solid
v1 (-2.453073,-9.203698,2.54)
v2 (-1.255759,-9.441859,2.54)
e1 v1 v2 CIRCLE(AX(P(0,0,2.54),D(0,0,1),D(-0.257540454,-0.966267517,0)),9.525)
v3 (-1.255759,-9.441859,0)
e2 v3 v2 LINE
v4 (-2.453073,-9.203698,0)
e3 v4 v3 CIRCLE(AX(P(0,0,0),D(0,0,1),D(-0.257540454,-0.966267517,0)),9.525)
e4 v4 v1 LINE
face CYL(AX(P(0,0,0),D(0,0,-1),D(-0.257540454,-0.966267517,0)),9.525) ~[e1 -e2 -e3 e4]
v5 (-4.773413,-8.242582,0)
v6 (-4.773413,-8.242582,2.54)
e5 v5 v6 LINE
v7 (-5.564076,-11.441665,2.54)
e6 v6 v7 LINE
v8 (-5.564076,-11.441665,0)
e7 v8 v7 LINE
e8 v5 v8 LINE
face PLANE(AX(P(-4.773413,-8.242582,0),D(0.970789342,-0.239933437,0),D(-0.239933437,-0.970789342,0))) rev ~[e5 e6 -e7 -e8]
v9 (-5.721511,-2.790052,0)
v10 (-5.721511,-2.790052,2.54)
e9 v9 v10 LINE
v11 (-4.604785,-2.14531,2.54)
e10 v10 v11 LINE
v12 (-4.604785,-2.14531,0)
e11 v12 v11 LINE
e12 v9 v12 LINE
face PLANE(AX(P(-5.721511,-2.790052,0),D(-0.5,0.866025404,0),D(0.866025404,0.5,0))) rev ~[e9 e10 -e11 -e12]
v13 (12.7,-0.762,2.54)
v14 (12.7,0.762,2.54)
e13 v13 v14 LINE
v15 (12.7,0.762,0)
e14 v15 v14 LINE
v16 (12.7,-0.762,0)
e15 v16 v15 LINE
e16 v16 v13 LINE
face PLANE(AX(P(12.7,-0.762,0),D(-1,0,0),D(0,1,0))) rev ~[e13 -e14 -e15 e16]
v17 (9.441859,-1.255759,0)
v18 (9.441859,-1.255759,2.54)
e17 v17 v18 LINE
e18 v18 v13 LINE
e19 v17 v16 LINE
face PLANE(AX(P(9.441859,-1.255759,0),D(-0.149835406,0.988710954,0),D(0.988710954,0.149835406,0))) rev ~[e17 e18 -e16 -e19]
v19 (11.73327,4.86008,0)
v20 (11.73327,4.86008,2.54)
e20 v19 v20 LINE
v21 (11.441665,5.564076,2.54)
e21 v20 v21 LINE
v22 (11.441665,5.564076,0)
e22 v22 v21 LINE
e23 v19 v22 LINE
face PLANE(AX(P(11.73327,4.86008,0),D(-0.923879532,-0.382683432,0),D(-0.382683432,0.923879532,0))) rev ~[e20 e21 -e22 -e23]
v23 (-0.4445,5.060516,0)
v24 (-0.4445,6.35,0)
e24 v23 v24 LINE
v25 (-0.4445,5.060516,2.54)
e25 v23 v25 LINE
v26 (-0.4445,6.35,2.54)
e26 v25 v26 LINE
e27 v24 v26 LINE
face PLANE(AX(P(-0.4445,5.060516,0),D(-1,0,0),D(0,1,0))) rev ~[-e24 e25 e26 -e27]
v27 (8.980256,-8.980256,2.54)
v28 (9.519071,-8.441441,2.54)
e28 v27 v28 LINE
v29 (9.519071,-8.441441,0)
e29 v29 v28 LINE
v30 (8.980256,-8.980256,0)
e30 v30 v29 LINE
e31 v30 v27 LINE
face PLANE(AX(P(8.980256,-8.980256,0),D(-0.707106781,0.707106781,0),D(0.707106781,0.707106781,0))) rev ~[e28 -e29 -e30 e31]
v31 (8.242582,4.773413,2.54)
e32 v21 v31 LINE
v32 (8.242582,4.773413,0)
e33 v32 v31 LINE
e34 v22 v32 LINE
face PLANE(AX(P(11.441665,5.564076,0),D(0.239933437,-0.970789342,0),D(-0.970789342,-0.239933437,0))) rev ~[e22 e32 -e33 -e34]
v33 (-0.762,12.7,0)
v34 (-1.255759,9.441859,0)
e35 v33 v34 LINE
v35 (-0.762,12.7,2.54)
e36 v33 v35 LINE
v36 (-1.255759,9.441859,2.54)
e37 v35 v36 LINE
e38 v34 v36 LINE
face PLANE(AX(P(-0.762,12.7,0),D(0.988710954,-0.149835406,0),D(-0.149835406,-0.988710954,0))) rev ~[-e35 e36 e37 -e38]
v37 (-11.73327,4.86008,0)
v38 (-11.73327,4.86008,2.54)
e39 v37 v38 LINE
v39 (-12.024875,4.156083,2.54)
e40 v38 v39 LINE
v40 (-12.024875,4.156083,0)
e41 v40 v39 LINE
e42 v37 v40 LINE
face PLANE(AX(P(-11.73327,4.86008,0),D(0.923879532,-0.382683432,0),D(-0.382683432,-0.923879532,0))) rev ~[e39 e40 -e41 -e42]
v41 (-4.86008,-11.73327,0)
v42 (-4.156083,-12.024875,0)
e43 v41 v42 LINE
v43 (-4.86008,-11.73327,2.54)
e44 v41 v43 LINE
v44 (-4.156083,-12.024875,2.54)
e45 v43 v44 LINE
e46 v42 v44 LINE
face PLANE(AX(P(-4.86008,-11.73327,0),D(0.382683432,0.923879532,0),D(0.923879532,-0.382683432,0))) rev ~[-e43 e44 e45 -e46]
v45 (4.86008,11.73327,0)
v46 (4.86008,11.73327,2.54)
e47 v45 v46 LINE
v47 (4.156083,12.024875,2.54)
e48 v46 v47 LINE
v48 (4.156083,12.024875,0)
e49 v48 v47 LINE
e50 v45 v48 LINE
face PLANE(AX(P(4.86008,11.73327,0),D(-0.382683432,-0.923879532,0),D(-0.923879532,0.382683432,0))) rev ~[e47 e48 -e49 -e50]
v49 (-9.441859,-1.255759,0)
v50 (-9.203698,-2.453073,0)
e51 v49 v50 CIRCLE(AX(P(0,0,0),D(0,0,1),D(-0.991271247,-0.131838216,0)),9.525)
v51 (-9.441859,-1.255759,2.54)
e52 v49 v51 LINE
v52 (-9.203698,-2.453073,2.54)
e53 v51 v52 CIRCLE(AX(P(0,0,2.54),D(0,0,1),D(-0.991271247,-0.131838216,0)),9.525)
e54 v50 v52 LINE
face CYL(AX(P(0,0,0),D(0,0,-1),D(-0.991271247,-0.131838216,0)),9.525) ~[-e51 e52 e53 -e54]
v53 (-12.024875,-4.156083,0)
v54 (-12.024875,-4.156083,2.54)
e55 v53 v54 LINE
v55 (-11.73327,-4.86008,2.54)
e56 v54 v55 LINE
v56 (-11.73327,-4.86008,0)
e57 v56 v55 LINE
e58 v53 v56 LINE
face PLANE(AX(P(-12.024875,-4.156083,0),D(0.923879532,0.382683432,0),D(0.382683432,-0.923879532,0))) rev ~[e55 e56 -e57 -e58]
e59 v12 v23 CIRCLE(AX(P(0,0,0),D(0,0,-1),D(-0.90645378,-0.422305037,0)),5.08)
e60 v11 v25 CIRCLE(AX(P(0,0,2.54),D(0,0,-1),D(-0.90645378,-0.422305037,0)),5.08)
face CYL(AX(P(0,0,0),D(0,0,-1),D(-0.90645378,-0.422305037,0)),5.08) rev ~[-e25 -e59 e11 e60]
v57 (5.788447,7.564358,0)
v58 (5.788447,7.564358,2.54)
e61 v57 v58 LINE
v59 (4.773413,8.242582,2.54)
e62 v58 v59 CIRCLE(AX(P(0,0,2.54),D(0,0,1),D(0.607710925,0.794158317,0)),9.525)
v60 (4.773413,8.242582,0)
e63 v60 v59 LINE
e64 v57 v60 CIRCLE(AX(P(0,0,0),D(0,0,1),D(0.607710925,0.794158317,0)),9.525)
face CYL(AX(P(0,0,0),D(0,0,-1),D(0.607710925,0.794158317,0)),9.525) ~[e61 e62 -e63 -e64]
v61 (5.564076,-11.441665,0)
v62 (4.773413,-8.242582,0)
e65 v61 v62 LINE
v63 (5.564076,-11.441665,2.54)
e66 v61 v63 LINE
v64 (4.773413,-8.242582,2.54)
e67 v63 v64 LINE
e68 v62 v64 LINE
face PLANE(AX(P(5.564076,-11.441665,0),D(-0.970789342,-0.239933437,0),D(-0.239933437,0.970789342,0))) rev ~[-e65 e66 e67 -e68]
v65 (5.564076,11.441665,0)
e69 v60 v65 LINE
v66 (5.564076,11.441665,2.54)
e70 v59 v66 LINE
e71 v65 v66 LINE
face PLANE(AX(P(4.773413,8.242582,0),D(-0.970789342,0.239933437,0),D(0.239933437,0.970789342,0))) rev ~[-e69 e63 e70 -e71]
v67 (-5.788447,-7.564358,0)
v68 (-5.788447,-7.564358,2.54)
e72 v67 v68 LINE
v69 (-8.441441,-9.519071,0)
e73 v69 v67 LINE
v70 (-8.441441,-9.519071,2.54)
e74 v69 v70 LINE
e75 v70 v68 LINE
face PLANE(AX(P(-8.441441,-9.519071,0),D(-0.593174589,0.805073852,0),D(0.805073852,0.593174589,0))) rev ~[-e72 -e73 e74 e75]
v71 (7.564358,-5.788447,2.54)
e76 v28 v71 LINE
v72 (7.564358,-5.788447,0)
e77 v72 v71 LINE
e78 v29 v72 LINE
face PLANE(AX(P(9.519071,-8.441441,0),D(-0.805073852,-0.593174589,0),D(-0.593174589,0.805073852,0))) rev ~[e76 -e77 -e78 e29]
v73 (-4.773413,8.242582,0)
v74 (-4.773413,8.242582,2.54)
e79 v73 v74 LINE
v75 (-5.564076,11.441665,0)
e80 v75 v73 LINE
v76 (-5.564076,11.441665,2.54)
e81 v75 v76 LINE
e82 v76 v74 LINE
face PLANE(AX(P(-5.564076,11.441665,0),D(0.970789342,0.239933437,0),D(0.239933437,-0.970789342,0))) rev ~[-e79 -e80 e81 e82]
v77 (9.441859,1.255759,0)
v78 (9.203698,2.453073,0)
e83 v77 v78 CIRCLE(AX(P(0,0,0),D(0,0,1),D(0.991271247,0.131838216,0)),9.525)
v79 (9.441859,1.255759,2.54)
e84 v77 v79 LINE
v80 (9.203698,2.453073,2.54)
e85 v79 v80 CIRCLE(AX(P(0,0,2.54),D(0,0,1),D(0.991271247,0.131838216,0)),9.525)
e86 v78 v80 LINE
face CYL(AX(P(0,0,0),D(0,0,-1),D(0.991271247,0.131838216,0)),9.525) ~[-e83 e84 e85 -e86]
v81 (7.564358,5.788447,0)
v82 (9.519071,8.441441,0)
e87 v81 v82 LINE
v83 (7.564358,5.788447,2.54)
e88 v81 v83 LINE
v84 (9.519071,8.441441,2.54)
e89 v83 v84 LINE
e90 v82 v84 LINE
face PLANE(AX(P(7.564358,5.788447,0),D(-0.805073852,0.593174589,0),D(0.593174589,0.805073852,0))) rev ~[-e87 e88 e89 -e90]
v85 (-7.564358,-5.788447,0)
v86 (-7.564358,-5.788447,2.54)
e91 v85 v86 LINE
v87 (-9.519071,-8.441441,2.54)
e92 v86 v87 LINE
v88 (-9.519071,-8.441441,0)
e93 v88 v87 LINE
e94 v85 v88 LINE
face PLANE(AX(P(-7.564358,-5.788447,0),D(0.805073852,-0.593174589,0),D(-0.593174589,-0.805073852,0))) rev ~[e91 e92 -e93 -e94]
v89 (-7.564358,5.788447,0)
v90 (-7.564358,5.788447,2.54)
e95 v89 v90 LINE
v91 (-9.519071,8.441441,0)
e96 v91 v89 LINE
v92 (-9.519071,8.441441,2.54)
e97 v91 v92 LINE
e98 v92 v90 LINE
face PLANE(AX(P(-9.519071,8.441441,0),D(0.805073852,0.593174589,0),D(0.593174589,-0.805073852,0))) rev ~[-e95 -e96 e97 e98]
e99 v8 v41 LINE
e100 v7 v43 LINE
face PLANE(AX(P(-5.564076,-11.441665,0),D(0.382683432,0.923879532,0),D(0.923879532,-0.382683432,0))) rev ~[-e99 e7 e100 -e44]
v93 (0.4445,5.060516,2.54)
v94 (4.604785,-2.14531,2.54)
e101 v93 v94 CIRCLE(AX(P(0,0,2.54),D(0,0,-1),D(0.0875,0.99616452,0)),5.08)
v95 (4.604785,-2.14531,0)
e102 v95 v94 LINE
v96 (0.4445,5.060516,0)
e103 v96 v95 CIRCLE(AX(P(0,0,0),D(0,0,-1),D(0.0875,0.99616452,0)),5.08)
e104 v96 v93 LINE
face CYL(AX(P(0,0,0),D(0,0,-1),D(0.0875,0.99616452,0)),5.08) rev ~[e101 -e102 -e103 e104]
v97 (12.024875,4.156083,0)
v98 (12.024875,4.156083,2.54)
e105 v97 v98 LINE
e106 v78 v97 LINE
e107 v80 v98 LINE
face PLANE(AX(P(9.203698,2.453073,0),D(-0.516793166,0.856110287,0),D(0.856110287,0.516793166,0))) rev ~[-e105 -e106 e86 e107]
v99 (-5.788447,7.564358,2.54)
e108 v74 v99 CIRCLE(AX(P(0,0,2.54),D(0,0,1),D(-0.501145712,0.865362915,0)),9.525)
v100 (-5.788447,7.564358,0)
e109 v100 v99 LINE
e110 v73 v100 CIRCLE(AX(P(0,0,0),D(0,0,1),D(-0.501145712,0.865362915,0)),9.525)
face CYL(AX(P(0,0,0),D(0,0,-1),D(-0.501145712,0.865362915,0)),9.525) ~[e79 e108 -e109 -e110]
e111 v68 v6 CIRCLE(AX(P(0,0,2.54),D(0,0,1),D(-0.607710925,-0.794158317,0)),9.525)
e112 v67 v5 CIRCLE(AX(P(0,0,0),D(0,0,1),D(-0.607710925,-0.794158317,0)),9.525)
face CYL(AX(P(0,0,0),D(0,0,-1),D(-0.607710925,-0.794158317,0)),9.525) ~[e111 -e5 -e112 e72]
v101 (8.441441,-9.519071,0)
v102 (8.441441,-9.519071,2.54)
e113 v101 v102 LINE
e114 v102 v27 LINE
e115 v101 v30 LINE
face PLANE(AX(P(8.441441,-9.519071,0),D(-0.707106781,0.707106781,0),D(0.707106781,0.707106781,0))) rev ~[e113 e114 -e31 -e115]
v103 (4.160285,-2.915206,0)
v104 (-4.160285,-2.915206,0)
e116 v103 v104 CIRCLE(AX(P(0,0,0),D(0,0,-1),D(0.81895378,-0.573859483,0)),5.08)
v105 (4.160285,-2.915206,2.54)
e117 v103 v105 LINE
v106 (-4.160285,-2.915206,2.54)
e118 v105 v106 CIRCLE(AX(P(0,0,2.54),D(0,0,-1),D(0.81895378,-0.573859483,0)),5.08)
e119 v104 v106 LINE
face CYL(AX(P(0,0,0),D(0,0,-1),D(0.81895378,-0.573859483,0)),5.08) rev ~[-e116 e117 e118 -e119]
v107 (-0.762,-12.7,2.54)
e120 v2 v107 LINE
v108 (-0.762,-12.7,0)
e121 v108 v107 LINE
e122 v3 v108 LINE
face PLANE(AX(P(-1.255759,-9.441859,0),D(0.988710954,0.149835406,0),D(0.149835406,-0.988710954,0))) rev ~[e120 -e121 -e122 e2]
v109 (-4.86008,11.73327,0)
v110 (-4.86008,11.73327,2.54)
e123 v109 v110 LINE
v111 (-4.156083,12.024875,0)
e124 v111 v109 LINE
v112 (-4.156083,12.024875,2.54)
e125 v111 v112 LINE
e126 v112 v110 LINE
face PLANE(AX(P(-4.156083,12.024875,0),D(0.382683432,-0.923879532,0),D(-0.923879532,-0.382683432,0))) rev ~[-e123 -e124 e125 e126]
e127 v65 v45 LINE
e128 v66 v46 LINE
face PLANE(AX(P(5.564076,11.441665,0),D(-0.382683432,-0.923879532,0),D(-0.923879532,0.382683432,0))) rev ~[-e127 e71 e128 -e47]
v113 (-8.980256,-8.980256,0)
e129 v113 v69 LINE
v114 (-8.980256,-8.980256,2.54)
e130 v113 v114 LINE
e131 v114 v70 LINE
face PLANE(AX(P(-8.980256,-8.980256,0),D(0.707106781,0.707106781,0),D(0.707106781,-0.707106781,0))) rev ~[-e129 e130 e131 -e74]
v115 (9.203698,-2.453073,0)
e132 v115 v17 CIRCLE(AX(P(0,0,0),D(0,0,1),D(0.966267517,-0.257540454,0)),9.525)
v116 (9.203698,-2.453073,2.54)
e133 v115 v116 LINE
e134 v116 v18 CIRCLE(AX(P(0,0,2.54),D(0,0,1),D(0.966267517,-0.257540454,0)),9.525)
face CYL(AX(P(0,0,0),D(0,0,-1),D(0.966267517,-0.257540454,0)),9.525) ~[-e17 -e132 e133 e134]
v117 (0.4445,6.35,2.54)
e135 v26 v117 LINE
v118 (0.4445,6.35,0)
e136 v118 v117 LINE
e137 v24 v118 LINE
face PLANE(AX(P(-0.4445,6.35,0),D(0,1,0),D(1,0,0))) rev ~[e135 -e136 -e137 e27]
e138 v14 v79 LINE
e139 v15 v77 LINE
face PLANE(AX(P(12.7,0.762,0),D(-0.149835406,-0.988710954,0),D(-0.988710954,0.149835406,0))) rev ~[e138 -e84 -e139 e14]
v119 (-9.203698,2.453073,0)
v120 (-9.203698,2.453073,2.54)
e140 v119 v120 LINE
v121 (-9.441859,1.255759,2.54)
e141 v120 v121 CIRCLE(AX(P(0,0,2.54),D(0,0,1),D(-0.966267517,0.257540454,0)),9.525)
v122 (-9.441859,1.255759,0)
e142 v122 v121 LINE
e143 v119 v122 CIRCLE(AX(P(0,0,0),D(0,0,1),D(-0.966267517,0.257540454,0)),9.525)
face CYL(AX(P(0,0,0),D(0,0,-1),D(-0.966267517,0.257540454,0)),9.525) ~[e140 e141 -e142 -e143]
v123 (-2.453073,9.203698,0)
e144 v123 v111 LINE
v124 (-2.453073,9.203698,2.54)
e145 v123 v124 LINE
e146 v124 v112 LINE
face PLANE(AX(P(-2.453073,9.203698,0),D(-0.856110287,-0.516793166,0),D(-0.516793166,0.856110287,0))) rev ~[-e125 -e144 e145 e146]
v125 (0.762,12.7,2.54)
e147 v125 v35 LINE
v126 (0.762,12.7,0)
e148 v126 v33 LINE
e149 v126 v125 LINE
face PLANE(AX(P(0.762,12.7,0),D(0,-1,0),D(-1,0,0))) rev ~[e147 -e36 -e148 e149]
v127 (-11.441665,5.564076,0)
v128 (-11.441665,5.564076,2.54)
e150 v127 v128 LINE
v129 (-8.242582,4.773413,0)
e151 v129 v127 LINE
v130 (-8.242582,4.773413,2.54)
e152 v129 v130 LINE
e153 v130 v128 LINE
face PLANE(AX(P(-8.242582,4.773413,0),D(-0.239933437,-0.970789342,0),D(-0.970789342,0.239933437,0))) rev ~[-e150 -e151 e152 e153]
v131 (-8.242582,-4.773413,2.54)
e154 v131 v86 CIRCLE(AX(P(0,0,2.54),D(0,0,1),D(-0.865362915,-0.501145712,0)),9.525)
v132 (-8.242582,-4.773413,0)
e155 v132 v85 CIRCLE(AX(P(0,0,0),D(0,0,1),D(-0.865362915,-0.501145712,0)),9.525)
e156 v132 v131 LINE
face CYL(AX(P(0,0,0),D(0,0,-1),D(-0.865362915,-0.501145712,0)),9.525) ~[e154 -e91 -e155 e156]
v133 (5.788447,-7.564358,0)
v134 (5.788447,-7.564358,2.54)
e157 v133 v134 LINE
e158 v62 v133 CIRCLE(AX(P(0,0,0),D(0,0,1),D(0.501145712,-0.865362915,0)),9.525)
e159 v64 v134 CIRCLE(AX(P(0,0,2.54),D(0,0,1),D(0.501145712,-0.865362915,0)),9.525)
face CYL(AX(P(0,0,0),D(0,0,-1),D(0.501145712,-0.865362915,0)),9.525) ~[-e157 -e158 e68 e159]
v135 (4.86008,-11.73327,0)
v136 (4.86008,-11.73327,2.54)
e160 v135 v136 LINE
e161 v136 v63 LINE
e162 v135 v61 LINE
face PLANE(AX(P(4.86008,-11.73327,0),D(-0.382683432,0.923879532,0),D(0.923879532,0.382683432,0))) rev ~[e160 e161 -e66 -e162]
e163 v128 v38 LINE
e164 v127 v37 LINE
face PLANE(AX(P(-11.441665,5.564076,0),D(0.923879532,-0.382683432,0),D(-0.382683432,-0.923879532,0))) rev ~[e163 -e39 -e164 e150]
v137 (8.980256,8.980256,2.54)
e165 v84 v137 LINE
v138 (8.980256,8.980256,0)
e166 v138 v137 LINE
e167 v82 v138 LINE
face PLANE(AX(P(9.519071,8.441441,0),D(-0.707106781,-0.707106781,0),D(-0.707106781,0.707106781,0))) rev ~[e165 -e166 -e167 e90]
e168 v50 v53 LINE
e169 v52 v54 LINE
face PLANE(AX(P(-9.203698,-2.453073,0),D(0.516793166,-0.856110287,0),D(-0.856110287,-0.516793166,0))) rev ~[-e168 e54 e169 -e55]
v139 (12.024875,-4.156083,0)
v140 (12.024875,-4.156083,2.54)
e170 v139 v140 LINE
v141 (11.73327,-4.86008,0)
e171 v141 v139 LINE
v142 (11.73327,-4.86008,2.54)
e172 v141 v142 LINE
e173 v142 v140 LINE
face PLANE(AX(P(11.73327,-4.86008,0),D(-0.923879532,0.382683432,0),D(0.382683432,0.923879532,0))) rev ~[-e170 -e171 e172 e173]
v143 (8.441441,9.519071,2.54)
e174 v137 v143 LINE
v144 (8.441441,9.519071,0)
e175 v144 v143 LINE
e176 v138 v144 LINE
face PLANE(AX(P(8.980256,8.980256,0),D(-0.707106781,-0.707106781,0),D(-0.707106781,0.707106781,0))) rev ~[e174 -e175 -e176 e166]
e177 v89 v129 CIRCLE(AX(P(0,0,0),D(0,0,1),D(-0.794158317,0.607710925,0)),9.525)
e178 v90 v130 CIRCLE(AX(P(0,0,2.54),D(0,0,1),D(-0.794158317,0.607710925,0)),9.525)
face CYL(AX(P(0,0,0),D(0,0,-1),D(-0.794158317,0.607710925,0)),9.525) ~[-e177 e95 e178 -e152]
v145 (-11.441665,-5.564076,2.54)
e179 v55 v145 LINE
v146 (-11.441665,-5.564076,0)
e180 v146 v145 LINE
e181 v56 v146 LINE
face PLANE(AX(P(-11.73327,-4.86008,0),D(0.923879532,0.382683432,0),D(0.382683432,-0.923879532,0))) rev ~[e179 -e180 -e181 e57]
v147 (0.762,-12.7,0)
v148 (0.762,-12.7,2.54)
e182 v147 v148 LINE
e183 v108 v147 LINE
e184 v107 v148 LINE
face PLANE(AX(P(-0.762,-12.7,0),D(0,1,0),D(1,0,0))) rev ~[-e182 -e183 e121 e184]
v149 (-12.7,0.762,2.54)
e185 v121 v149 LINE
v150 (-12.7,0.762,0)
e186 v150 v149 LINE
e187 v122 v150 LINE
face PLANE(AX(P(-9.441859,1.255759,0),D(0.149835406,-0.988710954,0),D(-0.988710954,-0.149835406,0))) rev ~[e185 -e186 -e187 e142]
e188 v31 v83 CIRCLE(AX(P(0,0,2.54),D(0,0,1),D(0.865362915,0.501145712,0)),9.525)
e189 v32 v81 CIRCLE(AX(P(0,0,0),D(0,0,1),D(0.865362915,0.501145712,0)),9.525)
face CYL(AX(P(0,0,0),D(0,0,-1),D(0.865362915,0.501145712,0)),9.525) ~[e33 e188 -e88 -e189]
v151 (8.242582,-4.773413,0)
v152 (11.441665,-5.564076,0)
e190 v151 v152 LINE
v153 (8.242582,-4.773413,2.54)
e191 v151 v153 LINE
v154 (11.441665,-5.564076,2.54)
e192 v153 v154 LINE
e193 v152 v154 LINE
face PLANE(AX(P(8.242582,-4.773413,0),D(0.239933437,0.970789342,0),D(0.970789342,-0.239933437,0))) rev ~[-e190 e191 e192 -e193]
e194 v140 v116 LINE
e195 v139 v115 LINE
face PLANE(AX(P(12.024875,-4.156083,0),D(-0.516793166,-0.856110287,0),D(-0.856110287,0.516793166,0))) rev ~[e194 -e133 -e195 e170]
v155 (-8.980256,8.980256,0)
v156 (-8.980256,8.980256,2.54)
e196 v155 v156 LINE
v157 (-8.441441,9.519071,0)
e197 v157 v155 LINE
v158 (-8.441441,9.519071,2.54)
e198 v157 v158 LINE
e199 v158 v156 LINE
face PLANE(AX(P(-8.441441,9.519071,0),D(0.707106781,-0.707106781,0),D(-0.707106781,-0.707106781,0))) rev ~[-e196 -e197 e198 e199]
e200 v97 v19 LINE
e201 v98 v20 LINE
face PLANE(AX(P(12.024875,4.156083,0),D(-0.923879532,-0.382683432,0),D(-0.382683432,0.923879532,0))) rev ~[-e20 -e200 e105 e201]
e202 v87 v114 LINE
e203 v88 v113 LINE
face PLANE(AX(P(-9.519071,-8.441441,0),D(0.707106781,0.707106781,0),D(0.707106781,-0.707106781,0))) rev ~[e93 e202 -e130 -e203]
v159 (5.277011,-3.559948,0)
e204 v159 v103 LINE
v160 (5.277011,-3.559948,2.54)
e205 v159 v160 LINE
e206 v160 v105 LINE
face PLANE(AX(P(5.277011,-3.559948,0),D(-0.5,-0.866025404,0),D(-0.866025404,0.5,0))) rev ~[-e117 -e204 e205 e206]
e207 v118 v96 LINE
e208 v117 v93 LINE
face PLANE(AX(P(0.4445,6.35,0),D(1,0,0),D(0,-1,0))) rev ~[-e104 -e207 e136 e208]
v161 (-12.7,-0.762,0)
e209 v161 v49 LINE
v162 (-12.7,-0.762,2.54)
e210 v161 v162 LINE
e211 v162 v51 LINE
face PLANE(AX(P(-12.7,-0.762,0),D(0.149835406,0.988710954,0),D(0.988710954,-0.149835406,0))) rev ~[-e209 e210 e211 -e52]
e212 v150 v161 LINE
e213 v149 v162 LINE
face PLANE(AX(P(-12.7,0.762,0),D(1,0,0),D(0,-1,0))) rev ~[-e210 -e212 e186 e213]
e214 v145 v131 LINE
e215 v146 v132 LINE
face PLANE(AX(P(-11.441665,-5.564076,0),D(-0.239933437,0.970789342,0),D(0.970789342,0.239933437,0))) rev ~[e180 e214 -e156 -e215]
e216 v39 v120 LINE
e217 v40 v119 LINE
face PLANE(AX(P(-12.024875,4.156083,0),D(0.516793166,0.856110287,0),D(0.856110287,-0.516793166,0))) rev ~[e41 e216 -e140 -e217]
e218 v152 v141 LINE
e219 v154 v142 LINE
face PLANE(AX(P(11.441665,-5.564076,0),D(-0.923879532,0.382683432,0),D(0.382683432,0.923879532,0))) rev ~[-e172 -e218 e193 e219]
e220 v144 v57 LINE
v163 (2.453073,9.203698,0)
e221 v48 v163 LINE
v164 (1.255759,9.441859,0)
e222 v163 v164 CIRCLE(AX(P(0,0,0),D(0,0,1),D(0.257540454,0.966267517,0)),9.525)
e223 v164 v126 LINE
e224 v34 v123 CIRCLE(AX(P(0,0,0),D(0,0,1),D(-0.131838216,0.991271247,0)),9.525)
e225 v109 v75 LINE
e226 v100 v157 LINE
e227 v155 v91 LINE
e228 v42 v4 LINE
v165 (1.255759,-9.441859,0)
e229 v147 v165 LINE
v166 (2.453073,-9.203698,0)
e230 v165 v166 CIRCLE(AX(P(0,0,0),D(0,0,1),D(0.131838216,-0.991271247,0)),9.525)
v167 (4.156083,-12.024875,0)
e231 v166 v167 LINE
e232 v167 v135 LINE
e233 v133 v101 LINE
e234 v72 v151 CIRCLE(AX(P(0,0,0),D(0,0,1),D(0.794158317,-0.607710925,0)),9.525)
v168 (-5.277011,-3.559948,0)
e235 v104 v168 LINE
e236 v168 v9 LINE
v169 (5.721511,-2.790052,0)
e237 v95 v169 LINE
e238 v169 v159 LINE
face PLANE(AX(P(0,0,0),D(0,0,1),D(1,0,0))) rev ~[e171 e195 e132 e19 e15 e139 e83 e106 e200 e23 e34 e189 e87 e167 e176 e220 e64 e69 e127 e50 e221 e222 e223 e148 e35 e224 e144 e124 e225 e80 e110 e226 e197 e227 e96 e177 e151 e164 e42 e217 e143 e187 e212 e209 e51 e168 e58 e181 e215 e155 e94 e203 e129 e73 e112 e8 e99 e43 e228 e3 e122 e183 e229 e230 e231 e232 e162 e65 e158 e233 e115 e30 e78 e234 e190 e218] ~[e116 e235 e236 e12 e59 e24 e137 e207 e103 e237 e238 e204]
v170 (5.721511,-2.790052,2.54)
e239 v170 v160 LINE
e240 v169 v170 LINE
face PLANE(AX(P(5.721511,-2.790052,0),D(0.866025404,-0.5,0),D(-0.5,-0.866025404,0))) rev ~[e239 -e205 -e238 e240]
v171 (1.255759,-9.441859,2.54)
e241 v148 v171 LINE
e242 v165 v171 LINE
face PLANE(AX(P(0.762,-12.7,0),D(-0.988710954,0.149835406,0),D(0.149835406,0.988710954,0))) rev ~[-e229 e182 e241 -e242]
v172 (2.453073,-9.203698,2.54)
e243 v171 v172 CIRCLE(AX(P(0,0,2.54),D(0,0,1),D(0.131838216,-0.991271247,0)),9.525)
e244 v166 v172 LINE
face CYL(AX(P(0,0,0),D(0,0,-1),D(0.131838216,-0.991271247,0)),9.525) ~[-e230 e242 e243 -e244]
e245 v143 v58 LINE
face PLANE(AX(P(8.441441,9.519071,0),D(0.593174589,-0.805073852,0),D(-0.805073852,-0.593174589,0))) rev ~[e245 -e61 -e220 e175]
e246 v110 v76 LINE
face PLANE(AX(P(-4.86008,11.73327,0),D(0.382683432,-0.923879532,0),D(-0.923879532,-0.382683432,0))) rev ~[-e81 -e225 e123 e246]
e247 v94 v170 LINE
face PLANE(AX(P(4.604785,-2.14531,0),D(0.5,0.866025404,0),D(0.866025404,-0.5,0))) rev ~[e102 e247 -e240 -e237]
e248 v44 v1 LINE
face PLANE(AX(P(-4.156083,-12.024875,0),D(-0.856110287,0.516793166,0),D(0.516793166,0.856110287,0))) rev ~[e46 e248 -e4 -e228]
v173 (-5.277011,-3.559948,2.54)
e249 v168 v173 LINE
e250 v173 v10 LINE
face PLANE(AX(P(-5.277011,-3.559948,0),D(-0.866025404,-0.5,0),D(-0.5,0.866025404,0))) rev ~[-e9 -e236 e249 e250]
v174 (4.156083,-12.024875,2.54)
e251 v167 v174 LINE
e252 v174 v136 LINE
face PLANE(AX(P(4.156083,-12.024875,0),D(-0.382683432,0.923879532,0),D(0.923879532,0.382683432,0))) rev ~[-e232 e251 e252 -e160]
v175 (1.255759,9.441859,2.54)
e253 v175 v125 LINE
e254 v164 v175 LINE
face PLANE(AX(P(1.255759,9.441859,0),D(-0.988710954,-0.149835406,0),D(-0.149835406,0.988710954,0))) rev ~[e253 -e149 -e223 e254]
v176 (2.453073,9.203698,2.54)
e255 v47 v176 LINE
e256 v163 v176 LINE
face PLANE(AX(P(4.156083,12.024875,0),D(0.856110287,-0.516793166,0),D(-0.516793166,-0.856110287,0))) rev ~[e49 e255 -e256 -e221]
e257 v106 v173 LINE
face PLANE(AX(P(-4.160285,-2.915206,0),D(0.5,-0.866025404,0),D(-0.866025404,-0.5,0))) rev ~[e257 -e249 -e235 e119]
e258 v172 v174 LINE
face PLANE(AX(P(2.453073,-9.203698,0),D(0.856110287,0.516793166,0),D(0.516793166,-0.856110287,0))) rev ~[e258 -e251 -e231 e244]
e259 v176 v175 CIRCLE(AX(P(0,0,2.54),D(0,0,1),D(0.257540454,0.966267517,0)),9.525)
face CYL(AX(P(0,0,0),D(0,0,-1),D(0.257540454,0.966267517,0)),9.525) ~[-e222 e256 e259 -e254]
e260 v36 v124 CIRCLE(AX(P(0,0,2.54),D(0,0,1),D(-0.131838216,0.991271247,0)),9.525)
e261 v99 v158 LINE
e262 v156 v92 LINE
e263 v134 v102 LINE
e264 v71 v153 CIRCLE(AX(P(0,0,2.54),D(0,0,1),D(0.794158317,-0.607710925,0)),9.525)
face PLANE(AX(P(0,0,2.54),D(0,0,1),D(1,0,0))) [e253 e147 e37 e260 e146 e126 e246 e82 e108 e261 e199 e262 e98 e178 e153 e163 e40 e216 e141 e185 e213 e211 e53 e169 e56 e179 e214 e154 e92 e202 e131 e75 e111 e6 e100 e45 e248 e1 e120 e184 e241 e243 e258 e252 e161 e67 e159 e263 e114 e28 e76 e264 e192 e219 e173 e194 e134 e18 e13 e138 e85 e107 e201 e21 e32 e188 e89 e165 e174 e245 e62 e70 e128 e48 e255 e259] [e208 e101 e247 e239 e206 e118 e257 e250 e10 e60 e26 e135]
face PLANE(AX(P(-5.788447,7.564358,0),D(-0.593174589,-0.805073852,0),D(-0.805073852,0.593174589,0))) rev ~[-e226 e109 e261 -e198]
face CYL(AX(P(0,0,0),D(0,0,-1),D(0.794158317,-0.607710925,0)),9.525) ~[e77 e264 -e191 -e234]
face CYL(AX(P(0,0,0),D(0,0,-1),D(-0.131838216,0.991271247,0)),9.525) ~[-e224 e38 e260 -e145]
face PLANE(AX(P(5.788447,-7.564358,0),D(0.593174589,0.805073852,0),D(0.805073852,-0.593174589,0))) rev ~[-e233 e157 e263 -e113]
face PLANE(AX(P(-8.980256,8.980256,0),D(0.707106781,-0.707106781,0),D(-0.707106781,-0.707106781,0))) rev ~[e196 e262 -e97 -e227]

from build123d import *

# Parameters (mm, degrees)
F1_DEPTH = 2.54


with BuildPart() as f1:
    # F0 (on Top) → F1 (new body)
    with BuildSketch(Plane.XY):
        with BuildLine():
            Line((-9.5190714883, 8.4414407538), (-7.564357968, 5.788446556))
            ThreePointArc((-7.564357968, 5.788446556), (-7.9197480572, 5.2918064695), (-8.242581769, 4.7734129071))
            Line((-8.242581769, 4.7734129071), (-11.4416652874, 5.5640757948))
            Line((-11.4416652874, 5.5640757948), (-11.7332700629, 4.860079591))
            Line((-11.7332700629, 4.860079591), (-12.0248748384, 4.1560833873))
            Line((-12.0248748384, 4.1560833873), (-9.2036980994, 2.4530728273))
            ThreePointArc((-9.2036980994, 2.4530728273), (-9.3419797958, 1.8582353172), (-9.4418586268, 1.2557590022))
            Line((-9.4418586268, 1.2557590022), (-12.7, 0.762))
            Line((-12.7, 0.762), (-12.7, 0))
            Line((-12.7, 0), (-12.7, -0.762))
            Line((-12.7, -0.762), (-9.4418586268, -1.2557590022))
            ThreePointArc((-9.4418586268, -1.2557590022), (-9.3419797958, -1.8582353172), (-9.2036980994, -2.4530728273))
            Line((-9.2036980994, -2.4530728273), (-12.0248748384, -4.1560833873))
            Line((-12.0248748384, -4.1560833873), (-11.7332700629, -4.860079591))
            Line((-11.7332700629, -4.860079591), (-11.4416652874, -5.5640757948))
            Line((-11.4416652874, -5.5640757948), (-8.242581769, -4.7734129071))
            ThreePointArc((-8.242581769, -4.7734129071), (-7.9197480572, -5.2918064695), (-7.564357968, -5.788446556))
            Line((-7.564357968, -5.788446556), (-9.5190714883, -8.4414407538))
            Line((-9.5190714883, -8.4414407538), (-8.9802561211, -8.9802561211))
            Line((-8.9802561211, -8.9802561211), (-8.4414407538, -9.5190714883))
            Line((-8.4414407538, -9.5190714883), (-5.788446556, -7.564357968))
            ThreePointArc((-5.788446556, -7.564357968), (-5.2918064695, -7.9197480572), (-4.7734129071, -8.242581769))
            Line((-4.7734129071, -8.242581769), (-5.5640757948, -11.4416652874))
            Line((-5.5640757948, -11.4416652874), (-4.860079591, -11.7332700629))
            Line((-4.860079591, -11.7332700629), (-4.1560833873, -12.0248748384))
            Line((-4.1560833873, -12.0248748384), (-2.4530728273, -9.2036980994))
            ThreePointArc((-2.4530728273, -9.2036980994), (-1.8582353172, -9.3419797958), (-1.2557590022, -9.4418586268))
            Line((-1.2557590022, -9.4418586268), (-0.762, -12.7))
            Line((-0.762, -12.7), (0, -12.7))
            Line((0, -12.7), (0.762, -12.7))
            Line((0.762, -12.7), (1.2557590022, -9.4418586268))
            ThreePointArc((1.2557590022, -9.4418586268), (1.8582353172, -9.3419797958), (2.4530728273, -9.2036980994))
            Line((2.4530728273, -9.2036980994), (4.1560833873, -12.0248748384))
            Line((4.1560833873, -12.0248748384), (4.860079591, -11.7332700629))
            Line((4.860079591, -11.7332700629), (5.5640757948, -11.4416652874))
            Line((5.5640757948, -11.4416652874), (4.7734129071, -8.242581769))
            ThreePointArc((4.7734129071, -8.242581769), (5.2918064695, -7.9197480572), (5.788446556, -7.564357968))
            Line((5.788446556, -7.564357968), (8.4414407538, -9.5190714883))
            Line((8.4414407538, -9.5190714883), (8.9802561211, -8.9802561211))
            Line((8.9802561211, -8.9802561211), (9.5190714883, -8.4414407538))
            Line((9.5190714883, -8.4414407538), (7.564357968, -5.788446556))
            ThreePointArc((7.564357968, -5.788446556), (7.9197480572, -5.2918064695), (8.242581769, -4.7734129071))
            Line((8.242581769, -4.7734129071), (11.4416652874, -5.5640757948))
            Line((11.4416652874, -5.5640757948), (11.7332700629, -4.860079591))
            Line((11.7332700629, -4.860079591), (12.0248748384, -4.1560833873))
            Line((12.0248748384, -4.1560833873), (9.2036980994, -2.4530728273))
            ThreePointArc((9.2036980994, -2.4530728273), (9.3419797958, -1.8582353172), (9.4418586268, -1.2557590022))
            Line((9.4418586268, -1.2557590022), (12.7, -0.762))
            Line((12.7, -0.762), (12.7, 0))
            Line((12.7, 0), (12.7, 0.762))
            Line((12.7, 0.762), (9.4418586268, 1.2557590022))
            ThreePointArc((9.4418586268, 1.2557590022), (9.3419797958, 1.8582353172), (9.2036980994, 2.4530728273))
            Line((9.2036980994, 2.4530728273), (12.0248748384, 4.1560833873))
            Line((12.0248748384, 4.1560833873), (11.7332700629, 4.860079591))
            Line((11.7332700629, 4.860079591), (11.4416652874, 5.5640757948))
            Line((11.4416652874, 5.5640757948), (8.242581769, 4.7734129071))
            ThreePointArc((8.242581769, 4.7734129071), (7.9197480572, 5.2918064695), (7.564357968, 5.788446556))
            Line((7.564357968, 5.788446556), (9.5190714883, 8.4414407538))
            Line((9.5190714883, 8.4414407538), (8.9802561211, 8.9802561211))
            Line((8.9802561211, 8.9802561211), (8.4414407538, 9.5190714883))
            Line((8.4414407538, 9.5190714883), (5.788446556, 7.564357968))
            ThreePointArc((5.788446556, 7.564357968), (5.2918064695, 7.9197480572), (4.7734129071, 8.242581769))
            Line((4.7734129071, 8.242581769), (5.5640757948, 11.4416652874))
            Line((5.5640757948, 11.4416652874), (4.860079591, 11.7332700629))
            Line((4.860079591, 11.7332700629), (4.1560833873, 12.0248748384))
            Line((4.1560833873, 12.0248748384), (2.4530728273, 9.2036980994))
            ThreePointArc((2.4530728273, 9.2036980994), (1.8582353172, 9.3419797958), (1.2557590022, 9.4418586268))
            Line((1.2557590022, 9.4418586268), (0.762, 12.7))
            Line((0.762, 12.7), (0, 12.7))
            Line((0, 12.7), (-0.762, 12.7))
            Line((-0.762, 12.7), (-1.2557590022, 9.4418586268))
            ThreePointArc((-1.2557590022, 9.4418586268), (-1.8582353172, 9.3419797958), (-2.4530728273, 9.2036980994))
            Line((-2.4530728273, 9.2036980994), (-4.1560833873, 12.0248748384))
            Line((-4.1560833873, 12.0248748384), (-4.860079591, 11.7332700629))
            Line((-4.860079591, 11.7332700629), (-5.5640757948, 11.4416652874))
            Line((-5.5640757948, 11.4416652874), (-4.7734129071, 8.242581769))
            ThreePointArc((-4.7734129071, 8.242581769), (-5.2918064695, 7.9197480572), (-5.788446556, 7.564357968))
            Line((-5.788446556, 7.564357968), (-8.4414407538, 9.5190714883))
            Line((-8.4414407538, 9.5190714883), (-8.9802561211, 8.9802561211))
            Line((-8.9802561211, 8.9802561211), (-9.5190714883, 8.4414407538))
        make_face()
        with BuildLine():
            ThreePointArc((-4.6047852038, -2.1453095877), (-4.3994090512, 2.54), (-0.4445, 5.0605157593))
            Line((-0.4445, 5.0605157593), (-0.4445, 6.35))
            Line((-0.4445, 6.35), (0, 6.35))
            Line((0, 6.35), (0.4445, 6.35))
            Line((0.4445, 6.35), (0.4445, 5.0605157593))
            ThreePointArc((0.4445, 5.0605157593), (4.3994090512, 2.54), (4.6047852038, -2.1453095877))
            Line((4.6047852038, -2.1453095877), (5.721511314, -2.790051708))
            Line((5.721511314, -2.790051708), (5.277011314, -3.559948292))
            Line((5.277011314, -3.559948292), (4.1602852038, -2.9152061716))
            ThreePointArc((4.1602852038, -2.9152061716), (0, -5.08), (-4.1602852038, -2.9152061716))
            Line((-4.1602852038, -2.9152061716), (-5.277011314, -3.559948292))
            Line((-5.277011314, -3.559948292), (-5.721511314, -2.790051708))
            Line((-5.721511314, -2.790051708), (-4.6047852038, -2.1453095877))
        make_face(mode=Mode.SUBTRACT)
    extrude(amount=F1_DEPTH)


solid = f1.part
